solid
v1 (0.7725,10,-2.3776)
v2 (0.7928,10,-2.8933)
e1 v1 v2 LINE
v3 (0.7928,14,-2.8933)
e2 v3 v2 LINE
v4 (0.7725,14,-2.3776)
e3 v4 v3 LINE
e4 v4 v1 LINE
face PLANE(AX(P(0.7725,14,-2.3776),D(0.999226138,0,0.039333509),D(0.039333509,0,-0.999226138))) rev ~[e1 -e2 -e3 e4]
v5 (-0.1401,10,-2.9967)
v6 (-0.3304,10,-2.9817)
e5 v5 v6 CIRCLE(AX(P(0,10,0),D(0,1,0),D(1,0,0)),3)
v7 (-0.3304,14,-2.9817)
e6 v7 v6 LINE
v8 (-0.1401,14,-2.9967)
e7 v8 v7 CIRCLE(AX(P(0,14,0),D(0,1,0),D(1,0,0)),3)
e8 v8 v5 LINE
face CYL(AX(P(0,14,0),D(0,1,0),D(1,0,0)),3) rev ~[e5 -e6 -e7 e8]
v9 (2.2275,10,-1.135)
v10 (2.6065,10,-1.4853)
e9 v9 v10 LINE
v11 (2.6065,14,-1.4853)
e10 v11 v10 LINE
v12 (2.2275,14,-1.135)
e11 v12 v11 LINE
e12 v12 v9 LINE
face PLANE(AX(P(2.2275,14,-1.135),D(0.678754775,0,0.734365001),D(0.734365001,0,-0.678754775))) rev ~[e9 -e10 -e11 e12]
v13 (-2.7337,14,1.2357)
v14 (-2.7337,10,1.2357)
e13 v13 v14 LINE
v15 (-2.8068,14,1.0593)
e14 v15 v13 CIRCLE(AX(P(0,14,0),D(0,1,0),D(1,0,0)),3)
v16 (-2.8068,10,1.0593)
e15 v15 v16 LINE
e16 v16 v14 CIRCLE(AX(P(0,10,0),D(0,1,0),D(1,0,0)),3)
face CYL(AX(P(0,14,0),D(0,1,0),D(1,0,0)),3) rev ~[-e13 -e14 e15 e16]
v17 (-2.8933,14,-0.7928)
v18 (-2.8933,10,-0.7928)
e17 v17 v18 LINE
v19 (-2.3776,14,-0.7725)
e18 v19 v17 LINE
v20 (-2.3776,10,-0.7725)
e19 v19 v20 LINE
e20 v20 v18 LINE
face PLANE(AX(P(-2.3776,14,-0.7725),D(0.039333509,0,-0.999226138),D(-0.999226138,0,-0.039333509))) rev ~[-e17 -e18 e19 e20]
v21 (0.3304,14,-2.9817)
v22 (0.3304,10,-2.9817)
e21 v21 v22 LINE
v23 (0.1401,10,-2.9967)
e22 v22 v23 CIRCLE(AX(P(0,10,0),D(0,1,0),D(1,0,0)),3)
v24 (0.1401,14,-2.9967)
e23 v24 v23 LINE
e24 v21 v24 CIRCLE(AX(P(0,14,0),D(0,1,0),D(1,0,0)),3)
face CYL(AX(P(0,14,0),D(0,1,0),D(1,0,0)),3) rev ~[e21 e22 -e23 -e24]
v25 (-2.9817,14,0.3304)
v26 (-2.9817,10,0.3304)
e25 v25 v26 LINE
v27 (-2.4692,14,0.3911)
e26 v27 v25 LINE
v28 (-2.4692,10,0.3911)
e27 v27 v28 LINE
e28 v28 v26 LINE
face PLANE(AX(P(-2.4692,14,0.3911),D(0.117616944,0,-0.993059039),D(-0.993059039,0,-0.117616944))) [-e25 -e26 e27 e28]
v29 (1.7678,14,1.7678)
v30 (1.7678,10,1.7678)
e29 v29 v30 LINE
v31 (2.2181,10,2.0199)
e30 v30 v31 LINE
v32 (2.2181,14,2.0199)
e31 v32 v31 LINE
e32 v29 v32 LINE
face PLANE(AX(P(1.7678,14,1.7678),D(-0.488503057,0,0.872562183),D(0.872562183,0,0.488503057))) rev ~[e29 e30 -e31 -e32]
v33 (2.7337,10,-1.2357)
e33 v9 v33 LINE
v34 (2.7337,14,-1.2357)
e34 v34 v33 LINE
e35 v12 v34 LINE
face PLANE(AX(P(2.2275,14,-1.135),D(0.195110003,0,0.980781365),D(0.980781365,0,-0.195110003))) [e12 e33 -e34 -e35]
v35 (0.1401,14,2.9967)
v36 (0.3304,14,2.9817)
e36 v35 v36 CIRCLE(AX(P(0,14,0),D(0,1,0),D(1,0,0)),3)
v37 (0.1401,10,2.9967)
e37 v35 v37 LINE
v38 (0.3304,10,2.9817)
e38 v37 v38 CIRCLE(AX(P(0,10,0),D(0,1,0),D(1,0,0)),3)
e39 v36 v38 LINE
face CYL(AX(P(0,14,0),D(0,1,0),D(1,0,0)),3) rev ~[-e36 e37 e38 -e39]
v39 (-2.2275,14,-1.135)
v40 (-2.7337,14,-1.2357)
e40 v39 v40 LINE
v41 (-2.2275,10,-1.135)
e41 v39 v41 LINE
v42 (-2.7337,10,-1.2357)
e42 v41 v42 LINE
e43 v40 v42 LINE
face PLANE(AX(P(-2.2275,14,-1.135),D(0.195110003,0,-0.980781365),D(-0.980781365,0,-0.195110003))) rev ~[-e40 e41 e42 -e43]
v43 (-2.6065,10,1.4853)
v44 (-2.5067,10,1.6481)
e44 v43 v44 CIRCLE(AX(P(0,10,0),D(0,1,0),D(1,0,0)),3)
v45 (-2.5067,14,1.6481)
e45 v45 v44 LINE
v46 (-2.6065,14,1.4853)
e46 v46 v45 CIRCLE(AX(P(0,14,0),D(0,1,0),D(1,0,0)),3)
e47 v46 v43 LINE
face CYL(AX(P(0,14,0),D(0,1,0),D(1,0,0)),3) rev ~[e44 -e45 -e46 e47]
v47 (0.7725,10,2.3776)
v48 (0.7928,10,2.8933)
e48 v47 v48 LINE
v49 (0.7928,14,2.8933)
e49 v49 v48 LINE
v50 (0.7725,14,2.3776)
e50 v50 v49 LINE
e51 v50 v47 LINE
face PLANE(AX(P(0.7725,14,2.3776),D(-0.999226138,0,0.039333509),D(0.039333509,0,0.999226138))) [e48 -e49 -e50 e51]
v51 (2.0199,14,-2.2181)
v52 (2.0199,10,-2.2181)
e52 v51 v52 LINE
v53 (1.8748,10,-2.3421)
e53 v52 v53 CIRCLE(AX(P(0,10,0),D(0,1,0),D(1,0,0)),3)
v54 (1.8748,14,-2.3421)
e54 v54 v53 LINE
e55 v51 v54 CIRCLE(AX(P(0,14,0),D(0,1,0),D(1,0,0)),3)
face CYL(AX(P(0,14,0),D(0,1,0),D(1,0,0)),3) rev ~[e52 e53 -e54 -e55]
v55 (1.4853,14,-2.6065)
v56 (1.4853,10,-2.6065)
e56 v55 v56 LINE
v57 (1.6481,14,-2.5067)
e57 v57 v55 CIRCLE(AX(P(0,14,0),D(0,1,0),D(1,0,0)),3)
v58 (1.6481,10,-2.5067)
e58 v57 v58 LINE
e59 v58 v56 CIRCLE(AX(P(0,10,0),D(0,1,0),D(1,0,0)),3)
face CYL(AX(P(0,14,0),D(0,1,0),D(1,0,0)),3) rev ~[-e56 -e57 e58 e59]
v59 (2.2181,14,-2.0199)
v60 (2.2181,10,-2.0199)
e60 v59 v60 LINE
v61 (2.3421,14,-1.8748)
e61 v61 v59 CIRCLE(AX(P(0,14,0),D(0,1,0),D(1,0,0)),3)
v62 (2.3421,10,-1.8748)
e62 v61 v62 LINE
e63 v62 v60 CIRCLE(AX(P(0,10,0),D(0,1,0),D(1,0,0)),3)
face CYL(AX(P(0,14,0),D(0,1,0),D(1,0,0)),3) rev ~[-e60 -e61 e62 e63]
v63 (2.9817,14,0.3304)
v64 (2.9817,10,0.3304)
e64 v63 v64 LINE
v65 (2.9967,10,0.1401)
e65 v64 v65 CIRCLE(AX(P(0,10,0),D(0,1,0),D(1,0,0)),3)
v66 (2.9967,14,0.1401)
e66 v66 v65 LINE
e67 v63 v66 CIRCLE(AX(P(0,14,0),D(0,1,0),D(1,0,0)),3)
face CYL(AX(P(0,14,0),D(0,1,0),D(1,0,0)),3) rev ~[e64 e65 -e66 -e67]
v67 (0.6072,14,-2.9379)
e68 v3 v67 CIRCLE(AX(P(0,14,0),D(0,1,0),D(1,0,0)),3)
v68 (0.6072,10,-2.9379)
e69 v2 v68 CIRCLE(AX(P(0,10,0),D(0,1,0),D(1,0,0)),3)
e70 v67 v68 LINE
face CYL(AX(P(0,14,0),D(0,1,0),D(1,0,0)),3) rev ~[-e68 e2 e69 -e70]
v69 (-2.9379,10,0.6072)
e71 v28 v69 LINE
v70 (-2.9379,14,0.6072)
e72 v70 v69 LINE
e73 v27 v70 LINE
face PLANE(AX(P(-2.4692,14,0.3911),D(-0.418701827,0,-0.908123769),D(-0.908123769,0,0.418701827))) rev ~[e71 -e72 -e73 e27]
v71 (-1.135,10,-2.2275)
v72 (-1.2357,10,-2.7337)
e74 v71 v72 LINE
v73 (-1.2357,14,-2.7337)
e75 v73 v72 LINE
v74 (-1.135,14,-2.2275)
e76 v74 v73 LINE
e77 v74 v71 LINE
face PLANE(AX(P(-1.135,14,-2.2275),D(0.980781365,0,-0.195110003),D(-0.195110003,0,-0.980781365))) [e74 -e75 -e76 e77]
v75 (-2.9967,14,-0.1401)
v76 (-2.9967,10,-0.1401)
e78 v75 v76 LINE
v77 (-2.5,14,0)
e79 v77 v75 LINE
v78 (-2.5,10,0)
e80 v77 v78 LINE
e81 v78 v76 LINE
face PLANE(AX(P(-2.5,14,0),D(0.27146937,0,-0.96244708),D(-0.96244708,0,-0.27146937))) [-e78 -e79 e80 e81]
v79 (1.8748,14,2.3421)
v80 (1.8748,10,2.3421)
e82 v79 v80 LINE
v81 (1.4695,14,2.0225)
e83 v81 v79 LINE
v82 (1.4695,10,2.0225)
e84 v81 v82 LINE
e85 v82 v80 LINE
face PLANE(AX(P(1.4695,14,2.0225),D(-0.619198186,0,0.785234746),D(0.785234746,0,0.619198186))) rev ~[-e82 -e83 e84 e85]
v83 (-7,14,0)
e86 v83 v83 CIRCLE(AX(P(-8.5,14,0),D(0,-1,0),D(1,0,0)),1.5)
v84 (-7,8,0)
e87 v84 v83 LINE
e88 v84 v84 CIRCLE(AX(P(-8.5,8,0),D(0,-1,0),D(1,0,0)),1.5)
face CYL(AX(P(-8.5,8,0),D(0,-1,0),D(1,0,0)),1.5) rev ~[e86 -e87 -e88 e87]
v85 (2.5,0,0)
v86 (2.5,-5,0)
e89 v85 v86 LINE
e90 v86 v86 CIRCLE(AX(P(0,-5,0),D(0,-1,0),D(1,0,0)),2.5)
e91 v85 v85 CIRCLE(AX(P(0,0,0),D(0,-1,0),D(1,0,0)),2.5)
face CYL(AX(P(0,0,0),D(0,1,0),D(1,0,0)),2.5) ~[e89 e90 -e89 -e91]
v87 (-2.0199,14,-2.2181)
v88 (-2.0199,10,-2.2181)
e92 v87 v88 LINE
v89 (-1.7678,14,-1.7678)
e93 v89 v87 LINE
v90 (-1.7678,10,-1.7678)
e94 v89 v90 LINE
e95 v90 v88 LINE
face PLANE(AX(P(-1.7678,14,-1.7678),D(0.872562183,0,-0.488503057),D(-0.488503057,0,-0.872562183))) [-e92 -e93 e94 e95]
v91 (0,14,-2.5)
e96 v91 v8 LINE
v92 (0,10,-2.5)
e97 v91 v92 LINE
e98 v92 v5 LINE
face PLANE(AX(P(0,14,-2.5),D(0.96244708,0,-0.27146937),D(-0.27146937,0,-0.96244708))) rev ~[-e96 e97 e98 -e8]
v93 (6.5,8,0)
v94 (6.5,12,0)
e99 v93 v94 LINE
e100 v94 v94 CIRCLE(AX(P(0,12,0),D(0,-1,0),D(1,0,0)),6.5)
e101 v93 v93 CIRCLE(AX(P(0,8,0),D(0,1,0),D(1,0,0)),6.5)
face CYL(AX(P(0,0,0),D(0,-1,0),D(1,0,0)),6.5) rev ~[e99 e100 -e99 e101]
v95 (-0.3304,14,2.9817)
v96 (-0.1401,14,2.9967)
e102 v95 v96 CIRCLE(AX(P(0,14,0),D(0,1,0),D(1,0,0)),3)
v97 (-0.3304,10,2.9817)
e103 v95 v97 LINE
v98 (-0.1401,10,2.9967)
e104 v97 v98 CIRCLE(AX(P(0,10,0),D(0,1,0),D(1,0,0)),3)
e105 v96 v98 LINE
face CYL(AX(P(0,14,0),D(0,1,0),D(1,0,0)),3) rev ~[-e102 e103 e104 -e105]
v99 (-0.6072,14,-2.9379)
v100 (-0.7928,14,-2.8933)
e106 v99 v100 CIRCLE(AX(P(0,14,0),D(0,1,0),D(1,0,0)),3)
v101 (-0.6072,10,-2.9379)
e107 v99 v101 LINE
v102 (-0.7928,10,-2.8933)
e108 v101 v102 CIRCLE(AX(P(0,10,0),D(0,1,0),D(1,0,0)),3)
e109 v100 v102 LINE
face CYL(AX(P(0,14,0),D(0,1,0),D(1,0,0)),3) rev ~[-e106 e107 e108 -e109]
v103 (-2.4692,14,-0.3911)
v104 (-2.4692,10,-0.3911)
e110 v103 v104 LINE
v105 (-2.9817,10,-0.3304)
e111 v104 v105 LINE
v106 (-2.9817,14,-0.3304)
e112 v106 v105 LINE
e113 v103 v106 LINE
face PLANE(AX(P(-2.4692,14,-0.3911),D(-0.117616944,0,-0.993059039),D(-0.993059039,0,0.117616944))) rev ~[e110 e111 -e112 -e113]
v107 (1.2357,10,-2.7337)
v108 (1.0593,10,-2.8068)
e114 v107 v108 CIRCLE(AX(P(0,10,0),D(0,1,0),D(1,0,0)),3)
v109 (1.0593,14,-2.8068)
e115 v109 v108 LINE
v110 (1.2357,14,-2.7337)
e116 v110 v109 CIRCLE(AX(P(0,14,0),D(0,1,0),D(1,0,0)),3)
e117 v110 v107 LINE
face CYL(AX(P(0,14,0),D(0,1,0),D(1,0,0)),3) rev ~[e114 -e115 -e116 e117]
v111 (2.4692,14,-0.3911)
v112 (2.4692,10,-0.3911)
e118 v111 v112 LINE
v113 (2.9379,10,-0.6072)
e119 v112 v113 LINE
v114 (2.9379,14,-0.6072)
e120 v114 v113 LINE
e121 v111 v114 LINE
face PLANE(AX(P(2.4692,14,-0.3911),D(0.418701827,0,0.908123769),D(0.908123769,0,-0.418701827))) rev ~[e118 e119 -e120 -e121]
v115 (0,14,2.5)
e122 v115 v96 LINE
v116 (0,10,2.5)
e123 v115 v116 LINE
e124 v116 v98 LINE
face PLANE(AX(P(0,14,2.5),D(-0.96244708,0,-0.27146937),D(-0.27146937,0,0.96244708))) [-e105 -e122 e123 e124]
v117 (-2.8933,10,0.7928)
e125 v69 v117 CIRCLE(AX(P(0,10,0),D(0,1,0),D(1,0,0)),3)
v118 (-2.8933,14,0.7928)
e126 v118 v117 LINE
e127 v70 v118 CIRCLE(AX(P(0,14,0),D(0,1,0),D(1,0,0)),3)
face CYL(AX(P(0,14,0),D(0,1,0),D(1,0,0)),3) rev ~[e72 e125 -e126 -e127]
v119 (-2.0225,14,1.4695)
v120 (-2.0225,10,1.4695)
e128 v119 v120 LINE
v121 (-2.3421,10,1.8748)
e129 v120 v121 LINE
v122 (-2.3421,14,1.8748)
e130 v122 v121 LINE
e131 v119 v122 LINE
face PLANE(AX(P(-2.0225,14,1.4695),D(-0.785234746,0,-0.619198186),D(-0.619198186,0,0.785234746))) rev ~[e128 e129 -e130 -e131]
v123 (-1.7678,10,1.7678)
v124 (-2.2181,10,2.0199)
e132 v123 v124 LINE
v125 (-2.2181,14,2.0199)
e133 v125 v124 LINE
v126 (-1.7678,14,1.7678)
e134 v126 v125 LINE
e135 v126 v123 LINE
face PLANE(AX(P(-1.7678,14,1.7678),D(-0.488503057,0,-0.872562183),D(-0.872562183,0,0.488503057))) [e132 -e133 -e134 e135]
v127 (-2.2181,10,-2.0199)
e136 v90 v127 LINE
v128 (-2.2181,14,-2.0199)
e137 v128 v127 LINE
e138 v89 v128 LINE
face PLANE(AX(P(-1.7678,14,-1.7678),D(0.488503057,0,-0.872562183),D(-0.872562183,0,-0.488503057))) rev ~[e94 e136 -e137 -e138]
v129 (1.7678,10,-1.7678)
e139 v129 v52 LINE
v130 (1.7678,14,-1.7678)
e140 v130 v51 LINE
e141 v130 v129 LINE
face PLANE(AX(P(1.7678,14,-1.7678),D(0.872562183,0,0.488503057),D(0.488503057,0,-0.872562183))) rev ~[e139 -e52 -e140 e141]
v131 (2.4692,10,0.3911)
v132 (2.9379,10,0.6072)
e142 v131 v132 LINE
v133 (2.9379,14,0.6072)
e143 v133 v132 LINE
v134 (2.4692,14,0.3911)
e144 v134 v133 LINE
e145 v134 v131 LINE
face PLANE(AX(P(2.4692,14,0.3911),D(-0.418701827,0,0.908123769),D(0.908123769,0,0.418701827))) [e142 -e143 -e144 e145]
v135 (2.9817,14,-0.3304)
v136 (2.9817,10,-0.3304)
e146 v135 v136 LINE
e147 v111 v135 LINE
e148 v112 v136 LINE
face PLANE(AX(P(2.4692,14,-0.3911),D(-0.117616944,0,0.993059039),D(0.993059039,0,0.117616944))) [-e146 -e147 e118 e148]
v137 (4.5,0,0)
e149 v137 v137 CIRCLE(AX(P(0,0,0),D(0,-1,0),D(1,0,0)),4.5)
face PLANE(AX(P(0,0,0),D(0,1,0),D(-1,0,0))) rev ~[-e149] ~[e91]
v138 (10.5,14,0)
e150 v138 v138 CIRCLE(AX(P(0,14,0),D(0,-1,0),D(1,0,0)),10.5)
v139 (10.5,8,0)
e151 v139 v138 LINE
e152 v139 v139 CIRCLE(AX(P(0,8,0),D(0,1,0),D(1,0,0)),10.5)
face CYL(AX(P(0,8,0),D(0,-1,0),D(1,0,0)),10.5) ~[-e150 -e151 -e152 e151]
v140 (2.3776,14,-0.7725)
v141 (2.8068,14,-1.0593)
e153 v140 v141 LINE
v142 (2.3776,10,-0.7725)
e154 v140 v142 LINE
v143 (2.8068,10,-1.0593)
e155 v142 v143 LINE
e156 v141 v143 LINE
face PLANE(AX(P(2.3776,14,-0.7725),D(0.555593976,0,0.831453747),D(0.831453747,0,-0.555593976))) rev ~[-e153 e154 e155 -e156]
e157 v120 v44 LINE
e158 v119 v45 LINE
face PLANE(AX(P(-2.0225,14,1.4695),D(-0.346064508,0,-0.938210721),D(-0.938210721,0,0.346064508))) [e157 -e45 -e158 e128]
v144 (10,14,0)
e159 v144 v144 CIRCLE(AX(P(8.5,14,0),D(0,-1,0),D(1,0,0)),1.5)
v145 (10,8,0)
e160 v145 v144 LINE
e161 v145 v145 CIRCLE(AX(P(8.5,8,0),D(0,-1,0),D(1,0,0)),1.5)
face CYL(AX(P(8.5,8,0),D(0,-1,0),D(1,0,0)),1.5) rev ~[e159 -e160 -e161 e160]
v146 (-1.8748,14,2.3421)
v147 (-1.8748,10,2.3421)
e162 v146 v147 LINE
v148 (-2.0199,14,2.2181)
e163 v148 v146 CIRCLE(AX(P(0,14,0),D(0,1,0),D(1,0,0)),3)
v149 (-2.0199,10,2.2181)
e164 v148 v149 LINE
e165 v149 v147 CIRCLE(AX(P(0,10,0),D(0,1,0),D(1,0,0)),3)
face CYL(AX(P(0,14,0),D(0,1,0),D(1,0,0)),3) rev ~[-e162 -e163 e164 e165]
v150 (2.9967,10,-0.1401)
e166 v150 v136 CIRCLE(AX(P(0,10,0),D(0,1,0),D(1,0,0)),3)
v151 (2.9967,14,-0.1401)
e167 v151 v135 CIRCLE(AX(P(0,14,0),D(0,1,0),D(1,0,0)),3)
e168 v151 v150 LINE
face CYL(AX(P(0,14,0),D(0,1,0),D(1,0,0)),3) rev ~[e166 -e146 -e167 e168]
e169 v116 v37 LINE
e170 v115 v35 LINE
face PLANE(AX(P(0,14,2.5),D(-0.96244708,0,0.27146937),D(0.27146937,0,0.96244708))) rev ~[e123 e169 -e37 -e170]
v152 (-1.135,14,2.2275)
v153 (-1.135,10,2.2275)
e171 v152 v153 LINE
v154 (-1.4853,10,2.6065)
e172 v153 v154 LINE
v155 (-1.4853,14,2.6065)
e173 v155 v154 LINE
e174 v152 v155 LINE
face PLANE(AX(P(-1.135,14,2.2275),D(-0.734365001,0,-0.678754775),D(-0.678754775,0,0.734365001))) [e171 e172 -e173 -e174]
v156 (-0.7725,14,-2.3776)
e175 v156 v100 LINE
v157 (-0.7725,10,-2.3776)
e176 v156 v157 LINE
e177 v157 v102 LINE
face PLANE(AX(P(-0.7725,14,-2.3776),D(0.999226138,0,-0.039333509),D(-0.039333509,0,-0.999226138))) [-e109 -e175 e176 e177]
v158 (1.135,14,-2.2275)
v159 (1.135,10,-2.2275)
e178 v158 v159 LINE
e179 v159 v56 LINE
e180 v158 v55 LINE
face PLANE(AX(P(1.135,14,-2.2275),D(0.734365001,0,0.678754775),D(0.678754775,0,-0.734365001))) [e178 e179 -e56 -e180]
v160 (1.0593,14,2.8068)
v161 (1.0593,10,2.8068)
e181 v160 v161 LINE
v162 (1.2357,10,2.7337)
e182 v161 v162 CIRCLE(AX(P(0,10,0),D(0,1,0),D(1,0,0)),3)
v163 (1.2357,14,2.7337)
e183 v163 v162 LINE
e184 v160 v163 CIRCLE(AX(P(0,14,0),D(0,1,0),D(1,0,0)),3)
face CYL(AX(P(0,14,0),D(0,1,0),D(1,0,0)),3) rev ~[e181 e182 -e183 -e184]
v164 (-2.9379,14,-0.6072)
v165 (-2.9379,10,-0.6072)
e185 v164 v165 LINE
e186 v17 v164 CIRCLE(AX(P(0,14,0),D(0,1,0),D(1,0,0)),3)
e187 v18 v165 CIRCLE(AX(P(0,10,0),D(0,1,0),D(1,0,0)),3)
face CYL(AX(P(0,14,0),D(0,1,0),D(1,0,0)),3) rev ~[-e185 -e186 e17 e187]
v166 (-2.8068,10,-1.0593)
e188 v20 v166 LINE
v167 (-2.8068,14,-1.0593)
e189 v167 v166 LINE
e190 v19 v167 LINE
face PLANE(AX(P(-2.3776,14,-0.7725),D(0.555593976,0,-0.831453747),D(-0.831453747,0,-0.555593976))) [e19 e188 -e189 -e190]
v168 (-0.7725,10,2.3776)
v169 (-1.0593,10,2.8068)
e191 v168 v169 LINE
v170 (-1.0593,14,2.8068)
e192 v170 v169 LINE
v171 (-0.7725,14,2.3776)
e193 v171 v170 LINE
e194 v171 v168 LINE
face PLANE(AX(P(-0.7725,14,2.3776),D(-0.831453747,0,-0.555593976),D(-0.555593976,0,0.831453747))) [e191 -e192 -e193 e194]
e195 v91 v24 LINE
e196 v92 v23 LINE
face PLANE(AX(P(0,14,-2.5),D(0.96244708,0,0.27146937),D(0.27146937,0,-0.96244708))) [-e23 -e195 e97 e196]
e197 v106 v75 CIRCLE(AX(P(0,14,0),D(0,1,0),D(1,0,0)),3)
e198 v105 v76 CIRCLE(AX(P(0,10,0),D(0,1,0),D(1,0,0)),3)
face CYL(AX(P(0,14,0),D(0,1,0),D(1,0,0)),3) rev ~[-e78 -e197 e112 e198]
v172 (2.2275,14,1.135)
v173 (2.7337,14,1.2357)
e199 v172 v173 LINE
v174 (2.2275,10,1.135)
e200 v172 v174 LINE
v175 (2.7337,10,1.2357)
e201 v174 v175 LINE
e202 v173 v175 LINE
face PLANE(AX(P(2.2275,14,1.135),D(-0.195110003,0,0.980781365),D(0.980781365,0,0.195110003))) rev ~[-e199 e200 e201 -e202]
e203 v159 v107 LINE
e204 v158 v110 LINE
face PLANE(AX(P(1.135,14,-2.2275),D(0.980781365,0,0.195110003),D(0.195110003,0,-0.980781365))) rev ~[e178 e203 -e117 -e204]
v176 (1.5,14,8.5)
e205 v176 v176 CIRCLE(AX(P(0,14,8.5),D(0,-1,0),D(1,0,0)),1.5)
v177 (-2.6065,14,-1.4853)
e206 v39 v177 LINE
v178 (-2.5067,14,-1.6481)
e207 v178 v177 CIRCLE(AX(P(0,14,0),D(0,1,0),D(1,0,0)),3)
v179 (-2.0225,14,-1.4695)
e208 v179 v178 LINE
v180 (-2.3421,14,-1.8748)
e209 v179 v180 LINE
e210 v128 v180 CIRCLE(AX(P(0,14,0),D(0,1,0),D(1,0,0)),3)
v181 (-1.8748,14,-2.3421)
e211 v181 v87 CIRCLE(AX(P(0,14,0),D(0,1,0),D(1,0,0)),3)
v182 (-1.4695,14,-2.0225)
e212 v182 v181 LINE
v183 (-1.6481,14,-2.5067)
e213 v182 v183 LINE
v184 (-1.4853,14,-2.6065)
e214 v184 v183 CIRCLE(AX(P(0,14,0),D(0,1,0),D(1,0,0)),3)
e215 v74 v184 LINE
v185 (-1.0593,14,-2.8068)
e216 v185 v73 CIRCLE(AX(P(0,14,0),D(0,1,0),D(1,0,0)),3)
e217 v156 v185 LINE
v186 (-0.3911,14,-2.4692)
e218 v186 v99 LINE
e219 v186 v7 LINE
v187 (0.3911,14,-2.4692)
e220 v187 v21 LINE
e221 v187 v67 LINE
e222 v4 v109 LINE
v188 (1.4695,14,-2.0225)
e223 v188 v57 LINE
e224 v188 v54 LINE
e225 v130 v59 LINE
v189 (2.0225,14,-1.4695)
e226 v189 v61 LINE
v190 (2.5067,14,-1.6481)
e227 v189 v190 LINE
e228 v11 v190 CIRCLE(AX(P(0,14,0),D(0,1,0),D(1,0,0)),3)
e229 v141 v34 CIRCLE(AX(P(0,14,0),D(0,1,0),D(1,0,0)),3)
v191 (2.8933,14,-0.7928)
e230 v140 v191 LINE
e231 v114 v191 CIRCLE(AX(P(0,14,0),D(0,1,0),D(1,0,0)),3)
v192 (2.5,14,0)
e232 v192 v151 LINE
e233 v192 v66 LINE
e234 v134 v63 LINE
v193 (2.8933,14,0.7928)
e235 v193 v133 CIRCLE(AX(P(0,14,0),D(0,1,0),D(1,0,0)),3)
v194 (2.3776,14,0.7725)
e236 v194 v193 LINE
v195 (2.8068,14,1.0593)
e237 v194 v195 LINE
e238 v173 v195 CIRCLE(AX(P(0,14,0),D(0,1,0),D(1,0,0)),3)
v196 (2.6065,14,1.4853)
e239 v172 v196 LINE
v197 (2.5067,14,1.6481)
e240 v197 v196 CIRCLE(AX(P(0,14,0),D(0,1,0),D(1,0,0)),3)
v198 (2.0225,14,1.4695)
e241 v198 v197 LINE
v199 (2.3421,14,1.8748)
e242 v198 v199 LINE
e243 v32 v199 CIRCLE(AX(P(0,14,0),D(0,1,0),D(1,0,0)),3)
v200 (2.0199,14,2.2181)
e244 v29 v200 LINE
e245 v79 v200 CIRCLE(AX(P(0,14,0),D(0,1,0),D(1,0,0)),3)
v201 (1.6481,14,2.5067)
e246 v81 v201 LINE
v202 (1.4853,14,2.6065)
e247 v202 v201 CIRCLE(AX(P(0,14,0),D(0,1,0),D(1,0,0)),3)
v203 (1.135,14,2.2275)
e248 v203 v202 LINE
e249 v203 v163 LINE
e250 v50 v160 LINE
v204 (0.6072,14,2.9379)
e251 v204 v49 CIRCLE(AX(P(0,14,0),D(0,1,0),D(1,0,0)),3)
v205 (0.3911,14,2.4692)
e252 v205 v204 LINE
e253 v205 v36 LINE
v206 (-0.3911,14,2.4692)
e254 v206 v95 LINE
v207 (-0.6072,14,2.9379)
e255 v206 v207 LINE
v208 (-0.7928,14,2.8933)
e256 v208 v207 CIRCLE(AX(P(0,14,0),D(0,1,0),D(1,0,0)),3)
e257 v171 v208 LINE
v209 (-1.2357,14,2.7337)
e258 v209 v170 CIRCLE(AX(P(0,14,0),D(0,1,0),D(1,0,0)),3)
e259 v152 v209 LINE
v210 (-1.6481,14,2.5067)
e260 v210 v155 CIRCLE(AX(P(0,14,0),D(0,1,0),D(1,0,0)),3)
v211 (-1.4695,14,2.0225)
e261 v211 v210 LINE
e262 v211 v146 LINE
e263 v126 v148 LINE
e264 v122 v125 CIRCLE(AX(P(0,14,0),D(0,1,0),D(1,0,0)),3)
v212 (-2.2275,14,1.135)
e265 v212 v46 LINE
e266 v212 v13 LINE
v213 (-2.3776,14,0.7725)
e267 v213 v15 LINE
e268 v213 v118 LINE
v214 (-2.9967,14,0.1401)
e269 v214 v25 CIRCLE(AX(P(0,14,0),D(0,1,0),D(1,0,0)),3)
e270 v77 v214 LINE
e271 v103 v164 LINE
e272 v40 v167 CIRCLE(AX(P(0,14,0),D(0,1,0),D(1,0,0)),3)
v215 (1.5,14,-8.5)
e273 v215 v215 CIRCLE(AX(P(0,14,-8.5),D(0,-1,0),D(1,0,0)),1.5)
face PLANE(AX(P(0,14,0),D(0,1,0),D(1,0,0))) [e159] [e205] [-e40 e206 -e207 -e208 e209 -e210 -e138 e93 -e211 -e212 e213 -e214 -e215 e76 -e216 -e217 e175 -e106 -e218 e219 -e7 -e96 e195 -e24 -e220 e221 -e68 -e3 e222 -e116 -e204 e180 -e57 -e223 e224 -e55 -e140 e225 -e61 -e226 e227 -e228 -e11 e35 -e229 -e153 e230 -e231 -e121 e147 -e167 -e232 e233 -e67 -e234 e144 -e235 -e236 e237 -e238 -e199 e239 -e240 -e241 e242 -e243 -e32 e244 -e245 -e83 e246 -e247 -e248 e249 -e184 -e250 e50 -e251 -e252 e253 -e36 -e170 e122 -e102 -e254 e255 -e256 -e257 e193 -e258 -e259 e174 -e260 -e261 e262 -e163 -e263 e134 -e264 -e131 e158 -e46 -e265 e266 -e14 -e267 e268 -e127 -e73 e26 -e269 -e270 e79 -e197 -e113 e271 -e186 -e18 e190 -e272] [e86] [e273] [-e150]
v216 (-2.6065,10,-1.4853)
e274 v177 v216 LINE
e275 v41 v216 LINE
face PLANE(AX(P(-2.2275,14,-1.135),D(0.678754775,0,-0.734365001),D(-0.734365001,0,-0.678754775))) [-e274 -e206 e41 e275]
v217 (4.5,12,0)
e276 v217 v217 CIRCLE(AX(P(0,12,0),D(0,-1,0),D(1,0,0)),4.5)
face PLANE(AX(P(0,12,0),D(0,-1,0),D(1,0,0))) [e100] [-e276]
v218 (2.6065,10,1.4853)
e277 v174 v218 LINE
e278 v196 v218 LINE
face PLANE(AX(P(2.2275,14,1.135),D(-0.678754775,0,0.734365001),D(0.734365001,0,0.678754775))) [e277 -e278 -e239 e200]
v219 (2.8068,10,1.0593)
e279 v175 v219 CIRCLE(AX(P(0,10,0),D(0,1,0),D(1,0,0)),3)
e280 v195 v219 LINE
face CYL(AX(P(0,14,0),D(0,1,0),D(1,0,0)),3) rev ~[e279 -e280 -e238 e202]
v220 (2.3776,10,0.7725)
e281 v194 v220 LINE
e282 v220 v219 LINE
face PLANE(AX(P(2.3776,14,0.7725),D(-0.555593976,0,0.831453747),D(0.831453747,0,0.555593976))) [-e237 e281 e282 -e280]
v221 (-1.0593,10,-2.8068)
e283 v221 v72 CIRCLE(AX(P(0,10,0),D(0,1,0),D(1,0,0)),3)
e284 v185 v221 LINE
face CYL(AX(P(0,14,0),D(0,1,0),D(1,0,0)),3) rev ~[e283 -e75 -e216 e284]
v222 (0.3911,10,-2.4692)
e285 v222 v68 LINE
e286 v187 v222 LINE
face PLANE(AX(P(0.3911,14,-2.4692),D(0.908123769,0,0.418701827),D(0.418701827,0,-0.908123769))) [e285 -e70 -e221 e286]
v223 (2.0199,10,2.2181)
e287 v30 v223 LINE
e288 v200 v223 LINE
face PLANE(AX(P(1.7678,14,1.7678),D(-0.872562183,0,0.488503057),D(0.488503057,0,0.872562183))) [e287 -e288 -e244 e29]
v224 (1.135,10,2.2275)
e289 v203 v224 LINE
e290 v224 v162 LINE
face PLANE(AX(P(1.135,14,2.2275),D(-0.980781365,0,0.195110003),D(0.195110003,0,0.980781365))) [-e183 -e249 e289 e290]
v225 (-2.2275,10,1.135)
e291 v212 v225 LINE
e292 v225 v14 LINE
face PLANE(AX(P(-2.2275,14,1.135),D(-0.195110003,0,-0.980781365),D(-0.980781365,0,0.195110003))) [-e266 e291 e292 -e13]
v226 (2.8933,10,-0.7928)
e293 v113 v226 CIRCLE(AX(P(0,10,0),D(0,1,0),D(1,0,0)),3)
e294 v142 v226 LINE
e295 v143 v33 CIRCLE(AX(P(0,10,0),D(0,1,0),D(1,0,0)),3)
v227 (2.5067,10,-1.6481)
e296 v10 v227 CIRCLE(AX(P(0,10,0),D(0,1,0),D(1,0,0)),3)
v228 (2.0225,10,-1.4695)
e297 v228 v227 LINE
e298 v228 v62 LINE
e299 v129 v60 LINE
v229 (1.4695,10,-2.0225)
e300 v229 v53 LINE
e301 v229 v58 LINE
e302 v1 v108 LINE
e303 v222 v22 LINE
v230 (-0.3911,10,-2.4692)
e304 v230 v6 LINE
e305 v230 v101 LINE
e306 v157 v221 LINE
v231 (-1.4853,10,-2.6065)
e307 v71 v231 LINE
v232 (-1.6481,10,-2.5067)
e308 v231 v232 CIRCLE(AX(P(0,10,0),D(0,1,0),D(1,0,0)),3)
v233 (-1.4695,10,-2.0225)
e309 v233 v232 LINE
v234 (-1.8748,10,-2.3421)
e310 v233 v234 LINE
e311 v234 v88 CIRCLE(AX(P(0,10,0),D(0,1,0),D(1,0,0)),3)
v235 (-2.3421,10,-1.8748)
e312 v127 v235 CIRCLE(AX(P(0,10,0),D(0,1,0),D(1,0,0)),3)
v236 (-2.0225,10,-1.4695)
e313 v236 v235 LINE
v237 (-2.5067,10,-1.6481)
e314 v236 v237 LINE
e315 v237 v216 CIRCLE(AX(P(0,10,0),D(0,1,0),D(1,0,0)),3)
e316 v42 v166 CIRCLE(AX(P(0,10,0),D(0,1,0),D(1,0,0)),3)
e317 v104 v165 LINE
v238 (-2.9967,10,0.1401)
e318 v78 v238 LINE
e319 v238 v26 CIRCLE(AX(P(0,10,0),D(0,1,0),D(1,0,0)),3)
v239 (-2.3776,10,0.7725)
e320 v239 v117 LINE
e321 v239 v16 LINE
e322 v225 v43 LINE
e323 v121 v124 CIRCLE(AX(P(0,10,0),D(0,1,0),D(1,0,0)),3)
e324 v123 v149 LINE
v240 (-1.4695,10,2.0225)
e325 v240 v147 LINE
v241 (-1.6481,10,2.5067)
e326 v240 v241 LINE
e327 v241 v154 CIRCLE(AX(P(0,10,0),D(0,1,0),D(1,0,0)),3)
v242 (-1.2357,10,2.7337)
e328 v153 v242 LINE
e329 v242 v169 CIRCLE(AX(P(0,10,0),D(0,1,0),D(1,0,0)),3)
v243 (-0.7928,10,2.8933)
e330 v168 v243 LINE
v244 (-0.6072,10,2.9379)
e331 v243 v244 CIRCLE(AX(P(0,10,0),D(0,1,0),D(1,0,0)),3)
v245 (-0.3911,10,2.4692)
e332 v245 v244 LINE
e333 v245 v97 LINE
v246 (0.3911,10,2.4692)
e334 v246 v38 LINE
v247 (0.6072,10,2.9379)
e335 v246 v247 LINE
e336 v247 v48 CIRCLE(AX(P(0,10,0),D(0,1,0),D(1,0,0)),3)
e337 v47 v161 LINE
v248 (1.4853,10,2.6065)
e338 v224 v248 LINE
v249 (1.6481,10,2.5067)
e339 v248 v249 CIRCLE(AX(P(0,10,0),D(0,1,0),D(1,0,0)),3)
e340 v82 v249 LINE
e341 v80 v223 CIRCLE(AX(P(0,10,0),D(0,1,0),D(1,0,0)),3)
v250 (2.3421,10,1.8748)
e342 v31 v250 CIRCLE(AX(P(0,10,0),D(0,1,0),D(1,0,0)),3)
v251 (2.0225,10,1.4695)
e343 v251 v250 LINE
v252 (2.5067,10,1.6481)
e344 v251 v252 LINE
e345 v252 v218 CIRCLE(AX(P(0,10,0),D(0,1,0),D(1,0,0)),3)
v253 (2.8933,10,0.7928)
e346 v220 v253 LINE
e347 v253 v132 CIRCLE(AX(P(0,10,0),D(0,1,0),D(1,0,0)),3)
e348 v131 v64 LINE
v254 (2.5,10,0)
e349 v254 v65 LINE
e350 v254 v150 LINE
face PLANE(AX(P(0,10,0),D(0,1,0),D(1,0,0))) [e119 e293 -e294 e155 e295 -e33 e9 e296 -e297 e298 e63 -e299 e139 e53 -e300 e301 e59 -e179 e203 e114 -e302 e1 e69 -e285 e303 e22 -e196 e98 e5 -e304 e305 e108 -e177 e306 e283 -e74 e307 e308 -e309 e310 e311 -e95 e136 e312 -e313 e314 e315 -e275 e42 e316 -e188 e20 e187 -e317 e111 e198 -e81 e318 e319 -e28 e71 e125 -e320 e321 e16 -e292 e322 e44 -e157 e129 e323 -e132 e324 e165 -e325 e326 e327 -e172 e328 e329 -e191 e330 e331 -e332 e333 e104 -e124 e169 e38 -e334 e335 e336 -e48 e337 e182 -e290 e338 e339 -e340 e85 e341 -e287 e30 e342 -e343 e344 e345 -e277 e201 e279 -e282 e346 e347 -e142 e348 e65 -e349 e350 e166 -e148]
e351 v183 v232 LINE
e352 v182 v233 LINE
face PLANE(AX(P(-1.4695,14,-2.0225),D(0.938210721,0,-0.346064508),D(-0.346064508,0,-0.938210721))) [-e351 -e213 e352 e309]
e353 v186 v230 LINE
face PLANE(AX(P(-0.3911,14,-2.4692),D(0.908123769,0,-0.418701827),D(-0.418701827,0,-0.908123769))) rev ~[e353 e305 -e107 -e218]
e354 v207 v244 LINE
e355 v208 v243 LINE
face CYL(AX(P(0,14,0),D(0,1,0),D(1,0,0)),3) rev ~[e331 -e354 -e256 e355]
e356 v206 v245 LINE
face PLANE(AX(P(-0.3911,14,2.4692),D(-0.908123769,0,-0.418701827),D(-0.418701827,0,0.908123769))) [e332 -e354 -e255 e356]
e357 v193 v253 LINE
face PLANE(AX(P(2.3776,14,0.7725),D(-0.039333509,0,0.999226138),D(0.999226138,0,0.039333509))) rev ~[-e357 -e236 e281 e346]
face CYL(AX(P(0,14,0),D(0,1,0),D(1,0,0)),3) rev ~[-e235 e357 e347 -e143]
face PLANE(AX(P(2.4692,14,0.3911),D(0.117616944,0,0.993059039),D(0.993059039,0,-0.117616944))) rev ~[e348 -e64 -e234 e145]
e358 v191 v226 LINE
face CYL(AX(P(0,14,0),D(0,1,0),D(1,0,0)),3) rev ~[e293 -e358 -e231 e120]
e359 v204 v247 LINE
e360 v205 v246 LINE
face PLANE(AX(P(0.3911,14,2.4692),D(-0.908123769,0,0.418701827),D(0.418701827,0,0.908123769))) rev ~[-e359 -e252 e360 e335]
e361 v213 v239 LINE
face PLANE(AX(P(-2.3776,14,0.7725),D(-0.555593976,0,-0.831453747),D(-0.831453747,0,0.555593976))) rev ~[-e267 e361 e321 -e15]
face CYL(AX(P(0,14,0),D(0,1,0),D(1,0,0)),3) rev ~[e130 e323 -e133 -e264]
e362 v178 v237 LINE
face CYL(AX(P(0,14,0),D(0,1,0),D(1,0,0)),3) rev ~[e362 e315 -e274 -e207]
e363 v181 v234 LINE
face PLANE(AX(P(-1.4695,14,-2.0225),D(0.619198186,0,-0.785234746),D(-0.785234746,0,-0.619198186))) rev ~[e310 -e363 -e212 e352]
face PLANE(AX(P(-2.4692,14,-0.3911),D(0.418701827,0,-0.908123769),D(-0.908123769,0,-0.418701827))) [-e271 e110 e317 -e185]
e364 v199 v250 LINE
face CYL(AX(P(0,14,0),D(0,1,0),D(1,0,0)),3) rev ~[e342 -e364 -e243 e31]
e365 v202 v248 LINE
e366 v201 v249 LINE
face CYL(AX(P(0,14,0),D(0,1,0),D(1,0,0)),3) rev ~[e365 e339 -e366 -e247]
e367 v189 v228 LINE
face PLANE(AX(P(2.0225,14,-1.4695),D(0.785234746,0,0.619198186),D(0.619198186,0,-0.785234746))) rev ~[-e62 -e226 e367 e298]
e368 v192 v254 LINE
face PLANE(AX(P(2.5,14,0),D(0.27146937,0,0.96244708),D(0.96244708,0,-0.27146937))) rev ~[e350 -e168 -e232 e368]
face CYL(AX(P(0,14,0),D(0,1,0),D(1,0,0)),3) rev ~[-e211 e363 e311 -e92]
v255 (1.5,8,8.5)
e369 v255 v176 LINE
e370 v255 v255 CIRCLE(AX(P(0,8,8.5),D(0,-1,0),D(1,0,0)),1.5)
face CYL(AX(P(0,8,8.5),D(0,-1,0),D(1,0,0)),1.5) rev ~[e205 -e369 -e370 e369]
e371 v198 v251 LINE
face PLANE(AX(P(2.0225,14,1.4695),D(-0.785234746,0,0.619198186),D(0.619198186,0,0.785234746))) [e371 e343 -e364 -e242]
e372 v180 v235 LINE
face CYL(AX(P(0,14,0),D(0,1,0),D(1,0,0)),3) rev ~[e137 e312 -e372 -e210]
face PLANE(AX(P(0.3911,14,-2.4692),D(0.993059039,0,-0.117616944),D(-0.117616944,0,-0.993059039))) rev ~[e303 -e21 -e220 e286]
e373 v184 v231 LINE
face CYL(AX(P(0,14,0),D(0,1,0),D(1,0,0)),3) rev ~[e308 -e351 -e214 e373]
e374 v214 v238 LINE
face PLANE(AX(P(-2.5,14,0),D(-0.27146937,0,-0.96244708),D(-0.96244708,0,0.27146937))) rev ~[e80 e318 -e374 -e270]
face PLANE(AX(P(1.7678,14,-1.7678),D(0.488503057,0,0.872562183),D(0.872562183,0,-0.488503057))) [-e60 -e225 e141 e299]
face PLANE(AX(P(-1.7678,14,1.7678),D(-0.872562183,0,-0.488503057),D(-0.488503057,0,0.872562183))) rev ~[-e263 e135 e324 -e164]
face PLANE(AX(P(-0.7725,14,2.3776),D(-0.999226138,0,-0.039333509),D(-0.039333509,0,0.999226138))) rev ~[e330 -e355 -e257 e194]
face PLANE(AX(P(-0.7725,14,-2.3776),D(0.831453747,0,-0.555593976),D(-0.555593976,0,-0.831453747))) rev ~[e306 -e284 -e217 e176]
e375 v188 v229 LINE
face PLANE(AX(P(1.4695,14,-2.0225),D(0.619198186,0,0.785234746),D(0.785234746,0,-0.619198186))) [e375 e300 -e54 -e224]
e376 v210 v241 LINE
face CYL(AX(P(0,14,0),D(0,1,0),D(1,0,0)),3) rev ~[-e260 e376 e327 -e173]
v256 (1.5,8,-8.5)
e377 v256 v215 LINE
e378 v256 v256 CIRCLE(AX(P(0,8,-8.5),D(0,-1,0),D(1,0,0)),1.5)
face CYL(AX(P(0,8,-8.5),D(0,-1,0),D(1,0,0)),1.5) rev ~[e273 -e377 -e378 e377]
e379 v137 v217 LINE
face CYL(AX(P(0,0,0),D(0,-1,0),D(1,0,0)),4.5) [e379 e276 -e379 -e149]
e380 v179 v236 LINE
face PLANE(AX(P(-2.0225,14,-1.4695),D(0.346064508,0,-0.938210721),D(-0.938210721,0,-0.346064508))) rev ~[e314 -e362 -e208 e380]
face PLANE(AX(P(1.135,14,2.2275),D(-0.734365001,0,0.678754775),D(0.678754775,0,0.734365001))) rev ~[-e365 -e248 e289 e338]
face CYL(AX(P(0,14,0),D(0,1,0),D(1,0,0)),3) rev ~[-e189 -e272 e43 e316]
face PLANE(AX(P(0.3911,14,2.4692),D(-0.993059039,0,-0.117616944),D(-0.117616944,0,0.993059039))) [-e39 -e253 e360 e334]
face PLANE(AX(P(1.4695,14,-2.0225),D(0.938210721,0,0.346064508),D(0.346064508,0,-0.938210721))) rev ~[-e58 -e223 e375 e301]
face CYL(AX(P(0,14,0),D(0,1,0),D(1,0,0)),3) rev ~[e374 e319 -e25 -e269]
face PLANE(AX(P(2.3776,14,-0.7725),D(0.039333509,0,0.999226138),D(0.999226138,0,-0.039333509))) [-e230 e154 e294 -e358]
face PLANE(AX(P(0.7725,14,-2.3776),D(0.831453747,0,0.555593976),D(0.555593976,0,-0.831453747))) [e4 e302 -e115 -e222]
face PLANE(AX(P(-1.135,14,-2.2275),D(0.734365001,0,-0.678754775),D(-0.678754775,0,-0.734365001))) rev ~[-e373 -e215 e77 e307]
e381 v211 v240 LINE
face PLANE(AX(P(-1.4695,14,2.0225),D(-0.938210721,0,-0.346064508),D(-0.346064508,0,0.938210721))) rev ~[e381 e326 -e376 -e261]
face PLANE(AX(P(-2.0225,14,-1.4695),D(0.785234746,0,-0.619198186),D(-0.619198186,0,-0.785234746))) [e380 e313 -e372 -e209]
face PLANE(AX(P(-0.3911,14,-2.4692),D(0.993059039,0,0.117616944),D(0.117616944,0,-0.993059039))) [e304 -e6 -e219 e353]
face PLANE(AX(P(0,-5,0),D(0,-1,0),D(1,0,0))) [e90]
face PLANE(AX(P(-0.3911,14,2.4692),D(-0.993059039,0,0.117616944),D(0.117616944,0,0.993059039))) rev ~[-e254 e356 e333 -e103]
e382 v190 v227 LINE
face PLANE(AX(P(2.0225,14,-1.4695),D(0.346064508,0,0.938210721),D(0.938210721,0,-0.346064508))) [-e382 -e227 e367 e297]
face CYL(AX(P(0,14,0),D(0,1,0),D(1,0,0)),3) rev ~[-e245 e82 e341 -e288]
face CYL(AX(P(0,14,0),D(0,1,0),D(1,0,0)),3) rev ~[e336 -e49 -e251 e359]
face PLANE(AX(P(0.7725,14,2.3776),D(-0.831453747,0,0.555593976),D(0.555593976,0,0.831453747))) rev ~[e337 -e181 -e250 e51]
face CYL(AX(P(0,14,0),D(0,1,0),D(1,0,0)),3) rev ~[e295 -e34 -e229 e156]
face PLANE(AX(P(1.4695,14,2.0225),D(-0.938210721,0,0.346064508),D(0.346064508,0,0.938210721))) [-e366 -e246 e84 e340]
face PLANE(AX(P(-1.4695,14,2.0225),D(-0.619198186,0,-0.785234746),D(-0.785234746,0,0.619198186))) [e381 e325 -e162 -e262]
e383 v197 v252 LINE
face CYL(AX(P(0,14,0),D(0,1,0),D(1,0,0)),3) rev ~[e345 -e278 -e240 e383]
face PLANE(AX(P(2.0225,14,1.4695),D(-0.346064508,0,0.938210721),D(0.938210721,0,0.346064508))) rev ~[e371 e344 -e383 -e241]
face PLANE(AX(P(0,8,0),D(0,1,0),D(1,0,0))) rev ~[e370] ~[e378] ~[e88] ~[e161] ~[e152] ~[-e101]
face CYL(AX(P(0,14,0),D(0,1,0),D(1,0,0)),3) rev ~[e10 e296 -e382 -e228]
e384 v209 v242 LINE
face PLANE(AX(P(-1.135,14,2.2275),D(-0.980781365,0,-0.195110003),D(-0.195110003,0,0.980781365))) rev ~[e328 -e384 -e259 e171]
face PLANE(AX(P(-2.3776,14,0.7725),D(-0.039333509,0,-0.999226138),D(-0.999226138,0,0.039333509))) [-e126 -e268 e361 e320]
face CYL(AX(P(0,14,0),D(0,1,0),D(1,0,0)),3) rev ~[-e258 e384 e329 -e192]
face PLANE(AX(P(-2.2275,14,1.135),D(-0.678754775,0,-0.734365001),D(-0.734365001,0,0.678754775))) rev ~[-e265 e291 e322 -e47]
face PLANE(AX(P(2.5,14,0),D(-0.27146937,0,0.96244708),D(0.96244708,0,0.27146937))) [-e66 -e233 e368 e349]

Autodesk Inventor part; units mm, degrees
ref_plane "YZ Plane" through (0, 0, 0) normal (1, 0, 0) x (0, 1, 0)
ref_plane "XZ Plane" through (0, 0, 0) normal (0, 1, 0) x (-1, 0, 0)
ref_plane "XY Plane" through (0, 0, 0) normal (0, 0, 1) x (1, 0, 0)
sketch "Sketch1" plane through (0, 0, 0) normal (0, 1, 0) x (-1, 0, 0)
  line L0 (-12.7, 12.7) -> (12.7, 12.7)
  line L1 (12.7, 12.7) -> (12.7, -12.7)
  line L2 (12.7, -12.7) -> (-12.7, -12.7)
  line L3 (-12.7, -12.7) -> (-12.7, 12.7)
  line L4 (-12.7, 12.7) -> (12.7, -12.7) construction
  line L5 (12.7, 12.7) -> (-12.7, -12.7) construction
  line L6 (-11.4786, 11.4786) -> (11.4786, 11.4786)
  line L7 (11.4786, 11.4786) -> (11.4786, -11.4786)
  line L8 (11.4786, -11.4786) -> (-11.4786, -11.4786)
  line L9 (-11.4786, -11.4786) -> (-11.4786, 11.4786)
  line L10 (-11.4786, 11.4786) -> (11.4786, -11.4786) construction
  line L11 (11.4786, 11.4786) -> (-11.4786, -11.4786) construction
  line L12 (-25.4, -25.4) -> (25.4, -25.4)
  line L13 (25.4, -25.4) -> (25.4, 25.4)
  line L14 (25.4, 25.4) -> (-25.4, 25.4)
  line L15 (-25.4, 25.4) -> (-25.4, -25.4)
  line L16 (-25.4, -25.4) -> (25.4, 25.4) construction
  line L17 (25.4, -25.4) -> (-25.4, 25.4) construction
  circle A0 centre (0, 0) radius 5.5
  circle A1 centre (11.4786, 11.4786) radius 5.5
  circle A2 centre (11.4786, -11.4786) radius 5.5
  circle A3 centre (-11.4786, 11.4786) radius 5.5
  circle A4 centre (-11.4786, -11.4786) radius 5.5
  circle A5 centre (-25.4, 25.4) radius 5.5
  circle A6 centre (25.4, 25.4) radius 5.5
  circle A7 centre (25.4, -25.4) radius 5.5
  circle A8 centre (-25.4, -25.4) radius 5.5
  line L18 (7.5895, 15.3677) -> (21.5109, 29.2891)
  line L19 (29.2891, 21.5109) -> (15.3677, 7.5895)
  line L20 (15.3677, -7.5895) -> (29.2891, -21.5109)
  line L21 (-7.5895, -15.3677) -> (-21.5109, -29.2891)
  line L22 (-29.2891, 21.5109) -> (-15.3677, 7.5895)
  line L23 (7.5895, -15.3677) -> (21.5109, -29.2891)
  line L24 (-14.6585, -6.991) -> (-28.5798, -20.9124)
  line L25 (-8.9306, 16.3528) -> (-21.4569, 29.2343)
  line L26 (-35, -35) -> (35, -35)
  line L27 (35, -35) -> (35, 35)
  line L28 (35, 35) -> (-35, 35)
  line L29 (-35, 35) -> (-35, -35)
  line L30 (-35, -35) -> (35, 35) construction
  line L31 (35, -35) -> (-35, 35) construction
  circle A9 centre (11.4786, 11.4786) radius 2.5
  circle A10 centre (25.4, 25.4) radius 2.5
  line L32 (27.1678, 23.6322) -> (13.2464, 9.7109)
  line L33 (23.7072, 27.2397) -> (9.7111, 13.2466)
  line L34 (0, 0) -> (0, 35)
  line L35 (35, 0) -> (0, 0)
  line L36 (-27.1678, 23.6322) -> (-13.2464, 9.7109)
  circle A11 centre (-25.4, 25.4) radius 2.5
  line L37 (-23.7072, 27.2397) -> (-9.7111, 13.2466)
  circle A12 centre (-11.4786, 11.4786) radius 2.5
  circle A13 centre (25.4, -25.4) radius 2.5
  line L38 (23.7072, -27.2397) -> (9.7111, -13.2466)
  line L39 (27.1678, -23.6322) -> (13.2464, -9.7109)
  circle A14 centre (11.4786, -11.4786) radius 2.5
  circle A15 centre (-11.4786, -11.4786) radius 2.5
  line L40 (-23.7072, -27.2397) -> (-9.7111, -13.2466)
  line L41 (-27.1678, -23.6322) -> (-13.2464, -9.7109)
  line L42 (25.4, 25.4) -> (-25.4, -25.4) construction
  circle A16 centre (-25.4, -25.4) radius 2.5
  circle A17 centre (0, 0) radius 10.5
  circle A18 centre (0, 0) radius 6.5
  dimension "d0" = 25.4
  dimension "d1" = 25.4
  dimension "d2" = 50.8
  dimension "d3" = 50.8
  dimension "d4" = 11
  dimension "d5" = 11
  dimension "d6" = 11
  dimension "d7" = 11
  dimension "d8" = 11
  dimension "d9" = 11
  dimension "d10" = 11
  dimension "d11" = 11
  dimension "d12" = 11
  dimension "d13" = 70
  dimension "d14" = 5
  dimension "d15" = 5
  dimension "d16" = 21
  dimension "d17" = 13
extrude "Extrusion1" add sketch "Sketch1" along normal blind 8 contours A18 L35 A0 L34 | L34 A0 L35 A18 | L34 L35 A0 | A0 L35 L34
sketch "Sketch2" plane through (0, 8, 0) normal (0, 1, 0) x (1, 0, 0)
  line L0 (-12.7, 12.7) -> (12.7, 12.7)
  line L1 (12.7, 12.7) -> (12.7, -12.7)
  line L2 (12.7, -12.7) -> (-12.7, -12.7)
  line L3 (-12.7, -12.7) -> (-12.7, 12.7)
  line L4 (-12.7, 12.7) -> (12.7, -12.7) construction
  line L5 (12.7, 12.7) -> (-12.7, -12.7) construction
  line L6 (-11.4786, 11.4786) -> (11.4786, 11.4786)
  line L7 (11.4786, 11.4786) -> (11.4786, -11.4786)
  line L8 (11.4786, -11.4786) -> (-11.4786, -11.4786)
  line L9 (-11.4786, -11.4786) -> (-11.4786, 11.4786)
  line L10 (-11.4786, 11.4786) -> (11.4786, -11.4786) construction
  line L11 (11.4786, 11.4786) -> (-11.4786, -11.4786) construction
  line L12 (-25.4, -25.4) -> (25.4, -25.4)
  line L13 (25.4, -25.4) -> (25.4, 25.4)
  line L14 (25.4, 25.4) -> (-25.4, 25.4)
  line L15 (-25.4, 25.4) -> (-25.4, -25.4)
  line L16 (-25.4, -25.4) -> (25.4, 25.4) construction
  line L17 (25.4, -25.4) -> (-25.4, 25.4) construction
  circle A0 centre (0, 0) radius 5.5
  circle A1 centre (11.4786, 11.4786) radius 5.5
  circle A2 centre (11.4786, -11.4786) radius 5.5
  circle A3 centre (-11.4786, 11.4786) radius 5.5
  circle A4 centre (-11.4786, -11.4786) radius 5.5
  circle A5 centre (-25.4, 25.4) radius 5.5
  circle A6 centre (25.4, 25.4) radius 5.5
  circle A7 centre (25.4, -25.4) radius 5.5
  circle A8 centre (-25.4, -25.4) radius 5.5
  line L18 (7.5895, 15.3677) -> (21.5109, 29.2891)
  line L19 (29.2891, 21.5109) -> (15.3677, 7.5895)
  line L20 (15.3677, -7.5895) -> (29.2891, -21.5109)
  line L21 (-7.5895, -15.3677) -> (-21.5109, -29.2891)
  line L22 (-29.2891, 21.5109) -> (-15.3677, 7.5895)
  line L23 (7.5895, -15.3677) -> (21.5109, -29.2891)
  line L24 (-16.1952, -8.6495) -> (-30.1166, -22.5709)
  line L25 (-9.6329, 16.6597) -> (-21.393, 29.1675)
  line L26 (-35, -35) -> (35, -35)
  line L27 (35, -35) -> (35, 35)
  line L28 (35, 35) -> (-35, 35)
  line L29 (-35, 35) -> (-35, -35)
  line L30 (-35, -35) -> (35, 35) construction
  line L31 (35, -35) -> (-35, 35) construction
  circle A9 centre (11.4786, 11.4786) radius 2.5
  circle A10 centre (25.4, 25.4) radius 2.5
  line L32 (27.1678, 23.6322) -> (13.2464, 9.7109)
  line L33 (23.5125, 27.0393) -> (9.7114, 13.247)
  line L34 (0, 0) -> (0, 35)
  line L35 (35, 0) -> (0, 0)
  line L36 (-27.1678, 23.6322) -> (-13.2464, 9.7109)
  circle A11 centre (-25.4, 25.4) radius 2.5
  line L37 (-23.5125, 27.0393) -> (-9.7114, 13.247)
  circle A12 centre (-11.4786, 11.4786) radius 2.5
  circle A13 centre (25.4, -25.4) radius 2.5
  line L38 (23.5125, -27.0393) -> (9.7114, -13.247)
  line L39 (27.1678, -23.6322) -> (13.2464, -9.7109)
  circle A14 centre (11.4786, -11.4786) radius 2.5
  circle A15 centre (-11.4786, -11.4786) radius 2.5
  line L40 (-23.5125, -27.0393) -> (-9.7114, -13.247)
  line L41 (-27.1678, -23.6322) -> (-13.2464, -9.7109)
  line L42 (25.4, 25.4) -> (-25.4, -25.4) construction
  circle A16 centre (-25.4, -25.4) radius 2.5
  circle A17 centre (0, 0) radius 10.5
  dimension "d20" = 25.4
  dimension "d21" = 25.4
  dimension "d22" = 50.8
  dimension "d23" = 50.8
  dimension "d24" = 11
  dimension "d25" = 11
  dimension "d26" = 11
  dimension "d27" = 11
  dimension "d28" = 11
  dimension "d29" = 11
  dimension "d30" = 11
  dimension "d31" = 11
  dimension "d32" = 11
  dimension "d33" = 70
  dimension "d34" = 5
  dimension "d35" = 5
  dimension "d36" = 21
extrude "Extrusion2" add sketch "Sketch2" along normal blind 6 contours A17 L35 A0 L34 | L34 A0 L35 A17 | L34 L35 A0 | A0 L35 L34
sketch "Sketch3" plane through (0, 8, 0) normal (0, -1, 0) x (1, 0, 0)
  circle A0 centre (0, -8.5) radius 1.5
  circle A1 centre (8.5, 0) radius 1.5
  circle A2 centre (-8.5, 0) radius 1.5
  circle A3 centre (0, 8.5) radius 1.5
  point P0 (0, 0)
  dimension "d39" = 8.5
  dimension "d40" = 8.5
  dimension "d41" = 8.5
  dimension "d42" = 8.5
  dimension "d43" = 3
  dimension "d44" = 3
  dimension "d45" = 3
  dimension "d46" = 3
extrude "Extrusion3" cut sketch "Sketch3" against normal blind 6
sketch "Sketch4" plane through (0, 0, 0) normal (0, -1, 0) x (1, 0, 0)
  circle A0 centre (0, 0) radius 2.5
  dimension "d49" = 5
extrude "Extrusion4" add sketch "Sketch4" along normal blind 5
sketch "Sketch5" plane through (0, 0, 0) normal (0, -1, 0) x (1, 0, 0)
  circle A0 centre (0, 0) radius 4.5
  circle A1 centre (0, 0) radius 6.5
  dimension "d52" = 9
extrude "Extrusion5" cut sketch "Sketch5" against normal blind 12
sketch "Sketch7" plane through (0, 14, 0) normal (0, 1, 0) x (1, 0, 0)
  circle A0 centre (0, 0) radius 3
  circle A1 centre (0, 0) radius 2.5
  line L0 (0, -2.5) -> (-0.1401, -2.9967)
  line L1 (0, -2.5) -> (0.1401, -2.9967)
  line L2 (0.3911, -2.4692) -> (0.6072, -2.9379)
  line L3 (0.3911, -2.4692) -> (0.3304, -2.9817)
  line L4 (0.7725, -2.3776) -> (1.0593, -2.8068)
  line L5 (0.7725, -2.3776) -> (0.7928, -2.8933)
  line L6 (1.135, -2.2275) -> (1.4853, -2.6065)
  line L7 (1.135, -2.2275) -> (1.2357, -2.7337)
  line L8 (1.4695, -2.0225) -> (1.8748, -2.3421)
  line L9 (1.4695, -2.0225) -> (1.6481, -2.5067)
  line L10 (1.7678, -1.7678) -> (2.2181, -2.0199)
  line L11 (1.7678, -1.7678) -> (2.0199, -2.2181)
  line L12 (2.0225, -1.4695) -> (2.5067, -1.6481)
  line L13 (2.0225, -1.4695) -> (2.3421, -1.8748)
  line L14 (2.2275, -1.135) -> (2.7337, -1.2357)
  line L15 (2.2275, -1.135) -> (2.6065, -1.4853)
  line L16 (2.3776, -0.7725) -> (2.8933, -0.7928)
  line L17 (2.3776, -0.7725) -> (2.8068, -1.0593)
  line L18 (2.4692, -0.3911) -> (2.9817, -0.3304)
  line L19 (2.4692, -0.3911) -> (2.9379, -0.6072)
  line L20 (2.5, 0) -> (2.9967, 0.1401)
  line L21 (2.5, 0) -> (2.9967, -0.1401)
  line L22 (2.4692, 0.3911) -> (2.9379, 0.6072)
  line L23 (2.4692, 0.3911) -> (2.9817, 0.3304)
  line L24 (2.3776, 0.7725) -> (2.8068, 1.0593)
  line L25 (2.3776, 0.7725) -> (2.8933, 0.7928)
  line L26 (2.2275, 1.135) -> (2.6065, 1.4853)
  line L27 (2.2275, 1.135) -> (2.7337, 1.2357)
  line L28 (2.0225, 1.4695) -> (2.3421, 1.8748)
  line L29 (2.0225, 1.4695) -> (2.5067, 1.6481)
  line L30 (1.7678, 1.7678) -> (2.0199, 2.2181)
  line L31 (1.7678, 1.7678) -> (2.2181, 2.0199)
  line L32 (1.4695, 2.0225) -> (1.6481, 2.5067)
  line L33 (1.4695, 2.0225) -> (1.8748, 2.3421)
  line L34 (1.135, 2.2275) -> (1.2357, 2.7337)
  line L35 (1.135, 2.2275) -> (1.4853, 2.6065)
  line L36 (0.7725, 2.3776) -> (0.7928, 2.8933)
  line L37 (0.7725, 2.3776) -> (1.0593, 2.8068)
  line L38 (0.3911, 2.4692) -> (0.3304, 2.9817)
  line L39 (0.3911, 2.4692) -> (0.6072, 2.9379)
  line L40 (0, 2.5) -> (-0.1401, 2.9967)
  line L41 (0, 2.5) -> (0.1401, 2.9967)
  line L42 (-0.3911, 2.4692) -> (-0.6072, 2.9379)
  line L43 (-0.3911, 2.4692) -> (-0.3304, 2.9817)
  line L44 (-0.7725, 2.3776) -> (-1.0593, 2.8068)
  line L45 (-0.7725, 2.3776) -> (-0.7928, 2.8933)
  line L46 (-1.135, 2.2275) -> (-1.4853, 2.6065)
  line L47 (-1.135, 2.2275) -> (-1.2357, 2.7337)
  line L48 (-1.4695, 2.0225) -> (-1.8748, 2.3421)
  line L49 (-1.4695, 2.0225) -> (-1.6481, 2.5067)
  line L50 (-1.7678, 1.7678) -> (-2.2181, 2.0199)
  line L51 (-1.7678, 1.7678) -> (-2.0199, 2.2181)
  line L52 (-2.0225, 1.4695) -> (-2.5067, 1.6481)
  line L53 (-2.0225, 1.4695) -> (-2.3421, 1.8748)
  line L54 (-2.2275, 1.135) -> (-2.7337, 1.2357)
  line L55 (-2.2275, 1.135) -> (-2.6065, 1.4853)
  line L56 (-2.3776, 0.7725) -> (-2.8933, 0.7928)
  line L57 (-2.3776, 0.7725) -> (-2.8068, 1.0593)
  line L58 (-2.4692, 0.3911) -> (-2.9817, 0.3304)
  line L59 (-2.4692, 0.3911) -> (-2.9379, 0.6072)
  line L60 (-2.5, 0) -> (-2.9967, -0.1401)
  line L61 (-2.5, 0) -> (-2.9967, 0.1401)
  line L62 (-2.4692, -0.3911) -> (-2.9379, -0.6072)
  line L63 (-2.4692, -0.3911) -> (-2.9817, -0.3304)
  line L64 (-2.3776, -0.7725) -> (-2.8068, -1.0593)
  line L65 (-2.3776, -0.7725) -> (-2.8933, -0.7928)
  line L66 (-2.2275, -1.135) -> (-2.6065, -1.4853)
  line L67 (-2.2275, -1.135) -> (-2.7337, -1.2357)
  line L68 (-2.0225, -1.4695) -> (-2.3421, -1.8748)
  line L69 (-2.0225, -1.4695) -> (-2.5067, -1.6481)
  line L70 (-1.7678, -1.7678) -> (-2.0199, -2.2181)
  line L71 (-1.7678, -1.7678) -> (-2.2181, -2.0199)
  line L72 (-1.4695, -2.0225) -> (-1.6481, -2.5067)
  line L73 (-1.4695, -2.0225) -> (-1.8748, -2.3421)
  line L74 (-1.135, -2.2275) -> (-1.2357, -2.7337)
  line L75 (-1.135, -2.2275) -> (-1.4853, -2.6065)
  line L76 (-0.7725, -2.3776) -> (-0.7928, -2.8933)
  line L77 (-0.7725, -2.3776) -> (-1.0593, -2.8068)
  line L78 (-0.3911, -2.4692) -> (-0.3304, -2.9817)
  line L79 (-0.3911, -2.4692) -> (-0.6072, -2.9379)
  dimension "d58" = 6
  dimension "d59" = 5
  dimension "d63" = 360
extrude "Extrusion6" cut sketch "Sketch7" against normal blind 4 contours L20 A1 L23 A0 | A0 L18 A1 L21 | A1 | L22 A1 L25 A0 | L19 A0 L16 A1 | A1 L27 A0 L24 | L17 A0 L14 A1 | A1 L29 A0 L26 | L15 A0 L12 A1 | A1 L31 A0 L28 | L13 A0 L10 A1 | A1 L33 A0 L30 | L11 A0 L8 A1 | A1 L35 A0 L32 | L9 A0 L6 A1 | A1 L37 A0 L34 | L7 A0 L4 A1 | A1 L39 A0 L36 | L5 A0 L2 A1 | A1 L41 A0 L38 | L3 A0 L1 A1 | A1 L43 A0 L40 | L0 A0 L78 A1 | A1 L45 A0 L42 | L79 A0 L76 A1 | A1 L47 A0 L44 | L77 A0 L74 A1 | A1 L49 A0 L46 | L75 A0 L72 A1 | A1 L51 A0 L48 | L73 A0 L70 A1 | A1 L53 A0 L50 | L71 A0 L68 A1 | A1 L55 A0 L52 | L69 A0 L66 A1 | A1 L57 A0 L54 | L67 A0 L64 A1 | A1 L59 A0 L56 | L65 A0 L62 A1 | A1 L61 A0 L58 | L63 A0 L60 A1
properties part number "spinner"
